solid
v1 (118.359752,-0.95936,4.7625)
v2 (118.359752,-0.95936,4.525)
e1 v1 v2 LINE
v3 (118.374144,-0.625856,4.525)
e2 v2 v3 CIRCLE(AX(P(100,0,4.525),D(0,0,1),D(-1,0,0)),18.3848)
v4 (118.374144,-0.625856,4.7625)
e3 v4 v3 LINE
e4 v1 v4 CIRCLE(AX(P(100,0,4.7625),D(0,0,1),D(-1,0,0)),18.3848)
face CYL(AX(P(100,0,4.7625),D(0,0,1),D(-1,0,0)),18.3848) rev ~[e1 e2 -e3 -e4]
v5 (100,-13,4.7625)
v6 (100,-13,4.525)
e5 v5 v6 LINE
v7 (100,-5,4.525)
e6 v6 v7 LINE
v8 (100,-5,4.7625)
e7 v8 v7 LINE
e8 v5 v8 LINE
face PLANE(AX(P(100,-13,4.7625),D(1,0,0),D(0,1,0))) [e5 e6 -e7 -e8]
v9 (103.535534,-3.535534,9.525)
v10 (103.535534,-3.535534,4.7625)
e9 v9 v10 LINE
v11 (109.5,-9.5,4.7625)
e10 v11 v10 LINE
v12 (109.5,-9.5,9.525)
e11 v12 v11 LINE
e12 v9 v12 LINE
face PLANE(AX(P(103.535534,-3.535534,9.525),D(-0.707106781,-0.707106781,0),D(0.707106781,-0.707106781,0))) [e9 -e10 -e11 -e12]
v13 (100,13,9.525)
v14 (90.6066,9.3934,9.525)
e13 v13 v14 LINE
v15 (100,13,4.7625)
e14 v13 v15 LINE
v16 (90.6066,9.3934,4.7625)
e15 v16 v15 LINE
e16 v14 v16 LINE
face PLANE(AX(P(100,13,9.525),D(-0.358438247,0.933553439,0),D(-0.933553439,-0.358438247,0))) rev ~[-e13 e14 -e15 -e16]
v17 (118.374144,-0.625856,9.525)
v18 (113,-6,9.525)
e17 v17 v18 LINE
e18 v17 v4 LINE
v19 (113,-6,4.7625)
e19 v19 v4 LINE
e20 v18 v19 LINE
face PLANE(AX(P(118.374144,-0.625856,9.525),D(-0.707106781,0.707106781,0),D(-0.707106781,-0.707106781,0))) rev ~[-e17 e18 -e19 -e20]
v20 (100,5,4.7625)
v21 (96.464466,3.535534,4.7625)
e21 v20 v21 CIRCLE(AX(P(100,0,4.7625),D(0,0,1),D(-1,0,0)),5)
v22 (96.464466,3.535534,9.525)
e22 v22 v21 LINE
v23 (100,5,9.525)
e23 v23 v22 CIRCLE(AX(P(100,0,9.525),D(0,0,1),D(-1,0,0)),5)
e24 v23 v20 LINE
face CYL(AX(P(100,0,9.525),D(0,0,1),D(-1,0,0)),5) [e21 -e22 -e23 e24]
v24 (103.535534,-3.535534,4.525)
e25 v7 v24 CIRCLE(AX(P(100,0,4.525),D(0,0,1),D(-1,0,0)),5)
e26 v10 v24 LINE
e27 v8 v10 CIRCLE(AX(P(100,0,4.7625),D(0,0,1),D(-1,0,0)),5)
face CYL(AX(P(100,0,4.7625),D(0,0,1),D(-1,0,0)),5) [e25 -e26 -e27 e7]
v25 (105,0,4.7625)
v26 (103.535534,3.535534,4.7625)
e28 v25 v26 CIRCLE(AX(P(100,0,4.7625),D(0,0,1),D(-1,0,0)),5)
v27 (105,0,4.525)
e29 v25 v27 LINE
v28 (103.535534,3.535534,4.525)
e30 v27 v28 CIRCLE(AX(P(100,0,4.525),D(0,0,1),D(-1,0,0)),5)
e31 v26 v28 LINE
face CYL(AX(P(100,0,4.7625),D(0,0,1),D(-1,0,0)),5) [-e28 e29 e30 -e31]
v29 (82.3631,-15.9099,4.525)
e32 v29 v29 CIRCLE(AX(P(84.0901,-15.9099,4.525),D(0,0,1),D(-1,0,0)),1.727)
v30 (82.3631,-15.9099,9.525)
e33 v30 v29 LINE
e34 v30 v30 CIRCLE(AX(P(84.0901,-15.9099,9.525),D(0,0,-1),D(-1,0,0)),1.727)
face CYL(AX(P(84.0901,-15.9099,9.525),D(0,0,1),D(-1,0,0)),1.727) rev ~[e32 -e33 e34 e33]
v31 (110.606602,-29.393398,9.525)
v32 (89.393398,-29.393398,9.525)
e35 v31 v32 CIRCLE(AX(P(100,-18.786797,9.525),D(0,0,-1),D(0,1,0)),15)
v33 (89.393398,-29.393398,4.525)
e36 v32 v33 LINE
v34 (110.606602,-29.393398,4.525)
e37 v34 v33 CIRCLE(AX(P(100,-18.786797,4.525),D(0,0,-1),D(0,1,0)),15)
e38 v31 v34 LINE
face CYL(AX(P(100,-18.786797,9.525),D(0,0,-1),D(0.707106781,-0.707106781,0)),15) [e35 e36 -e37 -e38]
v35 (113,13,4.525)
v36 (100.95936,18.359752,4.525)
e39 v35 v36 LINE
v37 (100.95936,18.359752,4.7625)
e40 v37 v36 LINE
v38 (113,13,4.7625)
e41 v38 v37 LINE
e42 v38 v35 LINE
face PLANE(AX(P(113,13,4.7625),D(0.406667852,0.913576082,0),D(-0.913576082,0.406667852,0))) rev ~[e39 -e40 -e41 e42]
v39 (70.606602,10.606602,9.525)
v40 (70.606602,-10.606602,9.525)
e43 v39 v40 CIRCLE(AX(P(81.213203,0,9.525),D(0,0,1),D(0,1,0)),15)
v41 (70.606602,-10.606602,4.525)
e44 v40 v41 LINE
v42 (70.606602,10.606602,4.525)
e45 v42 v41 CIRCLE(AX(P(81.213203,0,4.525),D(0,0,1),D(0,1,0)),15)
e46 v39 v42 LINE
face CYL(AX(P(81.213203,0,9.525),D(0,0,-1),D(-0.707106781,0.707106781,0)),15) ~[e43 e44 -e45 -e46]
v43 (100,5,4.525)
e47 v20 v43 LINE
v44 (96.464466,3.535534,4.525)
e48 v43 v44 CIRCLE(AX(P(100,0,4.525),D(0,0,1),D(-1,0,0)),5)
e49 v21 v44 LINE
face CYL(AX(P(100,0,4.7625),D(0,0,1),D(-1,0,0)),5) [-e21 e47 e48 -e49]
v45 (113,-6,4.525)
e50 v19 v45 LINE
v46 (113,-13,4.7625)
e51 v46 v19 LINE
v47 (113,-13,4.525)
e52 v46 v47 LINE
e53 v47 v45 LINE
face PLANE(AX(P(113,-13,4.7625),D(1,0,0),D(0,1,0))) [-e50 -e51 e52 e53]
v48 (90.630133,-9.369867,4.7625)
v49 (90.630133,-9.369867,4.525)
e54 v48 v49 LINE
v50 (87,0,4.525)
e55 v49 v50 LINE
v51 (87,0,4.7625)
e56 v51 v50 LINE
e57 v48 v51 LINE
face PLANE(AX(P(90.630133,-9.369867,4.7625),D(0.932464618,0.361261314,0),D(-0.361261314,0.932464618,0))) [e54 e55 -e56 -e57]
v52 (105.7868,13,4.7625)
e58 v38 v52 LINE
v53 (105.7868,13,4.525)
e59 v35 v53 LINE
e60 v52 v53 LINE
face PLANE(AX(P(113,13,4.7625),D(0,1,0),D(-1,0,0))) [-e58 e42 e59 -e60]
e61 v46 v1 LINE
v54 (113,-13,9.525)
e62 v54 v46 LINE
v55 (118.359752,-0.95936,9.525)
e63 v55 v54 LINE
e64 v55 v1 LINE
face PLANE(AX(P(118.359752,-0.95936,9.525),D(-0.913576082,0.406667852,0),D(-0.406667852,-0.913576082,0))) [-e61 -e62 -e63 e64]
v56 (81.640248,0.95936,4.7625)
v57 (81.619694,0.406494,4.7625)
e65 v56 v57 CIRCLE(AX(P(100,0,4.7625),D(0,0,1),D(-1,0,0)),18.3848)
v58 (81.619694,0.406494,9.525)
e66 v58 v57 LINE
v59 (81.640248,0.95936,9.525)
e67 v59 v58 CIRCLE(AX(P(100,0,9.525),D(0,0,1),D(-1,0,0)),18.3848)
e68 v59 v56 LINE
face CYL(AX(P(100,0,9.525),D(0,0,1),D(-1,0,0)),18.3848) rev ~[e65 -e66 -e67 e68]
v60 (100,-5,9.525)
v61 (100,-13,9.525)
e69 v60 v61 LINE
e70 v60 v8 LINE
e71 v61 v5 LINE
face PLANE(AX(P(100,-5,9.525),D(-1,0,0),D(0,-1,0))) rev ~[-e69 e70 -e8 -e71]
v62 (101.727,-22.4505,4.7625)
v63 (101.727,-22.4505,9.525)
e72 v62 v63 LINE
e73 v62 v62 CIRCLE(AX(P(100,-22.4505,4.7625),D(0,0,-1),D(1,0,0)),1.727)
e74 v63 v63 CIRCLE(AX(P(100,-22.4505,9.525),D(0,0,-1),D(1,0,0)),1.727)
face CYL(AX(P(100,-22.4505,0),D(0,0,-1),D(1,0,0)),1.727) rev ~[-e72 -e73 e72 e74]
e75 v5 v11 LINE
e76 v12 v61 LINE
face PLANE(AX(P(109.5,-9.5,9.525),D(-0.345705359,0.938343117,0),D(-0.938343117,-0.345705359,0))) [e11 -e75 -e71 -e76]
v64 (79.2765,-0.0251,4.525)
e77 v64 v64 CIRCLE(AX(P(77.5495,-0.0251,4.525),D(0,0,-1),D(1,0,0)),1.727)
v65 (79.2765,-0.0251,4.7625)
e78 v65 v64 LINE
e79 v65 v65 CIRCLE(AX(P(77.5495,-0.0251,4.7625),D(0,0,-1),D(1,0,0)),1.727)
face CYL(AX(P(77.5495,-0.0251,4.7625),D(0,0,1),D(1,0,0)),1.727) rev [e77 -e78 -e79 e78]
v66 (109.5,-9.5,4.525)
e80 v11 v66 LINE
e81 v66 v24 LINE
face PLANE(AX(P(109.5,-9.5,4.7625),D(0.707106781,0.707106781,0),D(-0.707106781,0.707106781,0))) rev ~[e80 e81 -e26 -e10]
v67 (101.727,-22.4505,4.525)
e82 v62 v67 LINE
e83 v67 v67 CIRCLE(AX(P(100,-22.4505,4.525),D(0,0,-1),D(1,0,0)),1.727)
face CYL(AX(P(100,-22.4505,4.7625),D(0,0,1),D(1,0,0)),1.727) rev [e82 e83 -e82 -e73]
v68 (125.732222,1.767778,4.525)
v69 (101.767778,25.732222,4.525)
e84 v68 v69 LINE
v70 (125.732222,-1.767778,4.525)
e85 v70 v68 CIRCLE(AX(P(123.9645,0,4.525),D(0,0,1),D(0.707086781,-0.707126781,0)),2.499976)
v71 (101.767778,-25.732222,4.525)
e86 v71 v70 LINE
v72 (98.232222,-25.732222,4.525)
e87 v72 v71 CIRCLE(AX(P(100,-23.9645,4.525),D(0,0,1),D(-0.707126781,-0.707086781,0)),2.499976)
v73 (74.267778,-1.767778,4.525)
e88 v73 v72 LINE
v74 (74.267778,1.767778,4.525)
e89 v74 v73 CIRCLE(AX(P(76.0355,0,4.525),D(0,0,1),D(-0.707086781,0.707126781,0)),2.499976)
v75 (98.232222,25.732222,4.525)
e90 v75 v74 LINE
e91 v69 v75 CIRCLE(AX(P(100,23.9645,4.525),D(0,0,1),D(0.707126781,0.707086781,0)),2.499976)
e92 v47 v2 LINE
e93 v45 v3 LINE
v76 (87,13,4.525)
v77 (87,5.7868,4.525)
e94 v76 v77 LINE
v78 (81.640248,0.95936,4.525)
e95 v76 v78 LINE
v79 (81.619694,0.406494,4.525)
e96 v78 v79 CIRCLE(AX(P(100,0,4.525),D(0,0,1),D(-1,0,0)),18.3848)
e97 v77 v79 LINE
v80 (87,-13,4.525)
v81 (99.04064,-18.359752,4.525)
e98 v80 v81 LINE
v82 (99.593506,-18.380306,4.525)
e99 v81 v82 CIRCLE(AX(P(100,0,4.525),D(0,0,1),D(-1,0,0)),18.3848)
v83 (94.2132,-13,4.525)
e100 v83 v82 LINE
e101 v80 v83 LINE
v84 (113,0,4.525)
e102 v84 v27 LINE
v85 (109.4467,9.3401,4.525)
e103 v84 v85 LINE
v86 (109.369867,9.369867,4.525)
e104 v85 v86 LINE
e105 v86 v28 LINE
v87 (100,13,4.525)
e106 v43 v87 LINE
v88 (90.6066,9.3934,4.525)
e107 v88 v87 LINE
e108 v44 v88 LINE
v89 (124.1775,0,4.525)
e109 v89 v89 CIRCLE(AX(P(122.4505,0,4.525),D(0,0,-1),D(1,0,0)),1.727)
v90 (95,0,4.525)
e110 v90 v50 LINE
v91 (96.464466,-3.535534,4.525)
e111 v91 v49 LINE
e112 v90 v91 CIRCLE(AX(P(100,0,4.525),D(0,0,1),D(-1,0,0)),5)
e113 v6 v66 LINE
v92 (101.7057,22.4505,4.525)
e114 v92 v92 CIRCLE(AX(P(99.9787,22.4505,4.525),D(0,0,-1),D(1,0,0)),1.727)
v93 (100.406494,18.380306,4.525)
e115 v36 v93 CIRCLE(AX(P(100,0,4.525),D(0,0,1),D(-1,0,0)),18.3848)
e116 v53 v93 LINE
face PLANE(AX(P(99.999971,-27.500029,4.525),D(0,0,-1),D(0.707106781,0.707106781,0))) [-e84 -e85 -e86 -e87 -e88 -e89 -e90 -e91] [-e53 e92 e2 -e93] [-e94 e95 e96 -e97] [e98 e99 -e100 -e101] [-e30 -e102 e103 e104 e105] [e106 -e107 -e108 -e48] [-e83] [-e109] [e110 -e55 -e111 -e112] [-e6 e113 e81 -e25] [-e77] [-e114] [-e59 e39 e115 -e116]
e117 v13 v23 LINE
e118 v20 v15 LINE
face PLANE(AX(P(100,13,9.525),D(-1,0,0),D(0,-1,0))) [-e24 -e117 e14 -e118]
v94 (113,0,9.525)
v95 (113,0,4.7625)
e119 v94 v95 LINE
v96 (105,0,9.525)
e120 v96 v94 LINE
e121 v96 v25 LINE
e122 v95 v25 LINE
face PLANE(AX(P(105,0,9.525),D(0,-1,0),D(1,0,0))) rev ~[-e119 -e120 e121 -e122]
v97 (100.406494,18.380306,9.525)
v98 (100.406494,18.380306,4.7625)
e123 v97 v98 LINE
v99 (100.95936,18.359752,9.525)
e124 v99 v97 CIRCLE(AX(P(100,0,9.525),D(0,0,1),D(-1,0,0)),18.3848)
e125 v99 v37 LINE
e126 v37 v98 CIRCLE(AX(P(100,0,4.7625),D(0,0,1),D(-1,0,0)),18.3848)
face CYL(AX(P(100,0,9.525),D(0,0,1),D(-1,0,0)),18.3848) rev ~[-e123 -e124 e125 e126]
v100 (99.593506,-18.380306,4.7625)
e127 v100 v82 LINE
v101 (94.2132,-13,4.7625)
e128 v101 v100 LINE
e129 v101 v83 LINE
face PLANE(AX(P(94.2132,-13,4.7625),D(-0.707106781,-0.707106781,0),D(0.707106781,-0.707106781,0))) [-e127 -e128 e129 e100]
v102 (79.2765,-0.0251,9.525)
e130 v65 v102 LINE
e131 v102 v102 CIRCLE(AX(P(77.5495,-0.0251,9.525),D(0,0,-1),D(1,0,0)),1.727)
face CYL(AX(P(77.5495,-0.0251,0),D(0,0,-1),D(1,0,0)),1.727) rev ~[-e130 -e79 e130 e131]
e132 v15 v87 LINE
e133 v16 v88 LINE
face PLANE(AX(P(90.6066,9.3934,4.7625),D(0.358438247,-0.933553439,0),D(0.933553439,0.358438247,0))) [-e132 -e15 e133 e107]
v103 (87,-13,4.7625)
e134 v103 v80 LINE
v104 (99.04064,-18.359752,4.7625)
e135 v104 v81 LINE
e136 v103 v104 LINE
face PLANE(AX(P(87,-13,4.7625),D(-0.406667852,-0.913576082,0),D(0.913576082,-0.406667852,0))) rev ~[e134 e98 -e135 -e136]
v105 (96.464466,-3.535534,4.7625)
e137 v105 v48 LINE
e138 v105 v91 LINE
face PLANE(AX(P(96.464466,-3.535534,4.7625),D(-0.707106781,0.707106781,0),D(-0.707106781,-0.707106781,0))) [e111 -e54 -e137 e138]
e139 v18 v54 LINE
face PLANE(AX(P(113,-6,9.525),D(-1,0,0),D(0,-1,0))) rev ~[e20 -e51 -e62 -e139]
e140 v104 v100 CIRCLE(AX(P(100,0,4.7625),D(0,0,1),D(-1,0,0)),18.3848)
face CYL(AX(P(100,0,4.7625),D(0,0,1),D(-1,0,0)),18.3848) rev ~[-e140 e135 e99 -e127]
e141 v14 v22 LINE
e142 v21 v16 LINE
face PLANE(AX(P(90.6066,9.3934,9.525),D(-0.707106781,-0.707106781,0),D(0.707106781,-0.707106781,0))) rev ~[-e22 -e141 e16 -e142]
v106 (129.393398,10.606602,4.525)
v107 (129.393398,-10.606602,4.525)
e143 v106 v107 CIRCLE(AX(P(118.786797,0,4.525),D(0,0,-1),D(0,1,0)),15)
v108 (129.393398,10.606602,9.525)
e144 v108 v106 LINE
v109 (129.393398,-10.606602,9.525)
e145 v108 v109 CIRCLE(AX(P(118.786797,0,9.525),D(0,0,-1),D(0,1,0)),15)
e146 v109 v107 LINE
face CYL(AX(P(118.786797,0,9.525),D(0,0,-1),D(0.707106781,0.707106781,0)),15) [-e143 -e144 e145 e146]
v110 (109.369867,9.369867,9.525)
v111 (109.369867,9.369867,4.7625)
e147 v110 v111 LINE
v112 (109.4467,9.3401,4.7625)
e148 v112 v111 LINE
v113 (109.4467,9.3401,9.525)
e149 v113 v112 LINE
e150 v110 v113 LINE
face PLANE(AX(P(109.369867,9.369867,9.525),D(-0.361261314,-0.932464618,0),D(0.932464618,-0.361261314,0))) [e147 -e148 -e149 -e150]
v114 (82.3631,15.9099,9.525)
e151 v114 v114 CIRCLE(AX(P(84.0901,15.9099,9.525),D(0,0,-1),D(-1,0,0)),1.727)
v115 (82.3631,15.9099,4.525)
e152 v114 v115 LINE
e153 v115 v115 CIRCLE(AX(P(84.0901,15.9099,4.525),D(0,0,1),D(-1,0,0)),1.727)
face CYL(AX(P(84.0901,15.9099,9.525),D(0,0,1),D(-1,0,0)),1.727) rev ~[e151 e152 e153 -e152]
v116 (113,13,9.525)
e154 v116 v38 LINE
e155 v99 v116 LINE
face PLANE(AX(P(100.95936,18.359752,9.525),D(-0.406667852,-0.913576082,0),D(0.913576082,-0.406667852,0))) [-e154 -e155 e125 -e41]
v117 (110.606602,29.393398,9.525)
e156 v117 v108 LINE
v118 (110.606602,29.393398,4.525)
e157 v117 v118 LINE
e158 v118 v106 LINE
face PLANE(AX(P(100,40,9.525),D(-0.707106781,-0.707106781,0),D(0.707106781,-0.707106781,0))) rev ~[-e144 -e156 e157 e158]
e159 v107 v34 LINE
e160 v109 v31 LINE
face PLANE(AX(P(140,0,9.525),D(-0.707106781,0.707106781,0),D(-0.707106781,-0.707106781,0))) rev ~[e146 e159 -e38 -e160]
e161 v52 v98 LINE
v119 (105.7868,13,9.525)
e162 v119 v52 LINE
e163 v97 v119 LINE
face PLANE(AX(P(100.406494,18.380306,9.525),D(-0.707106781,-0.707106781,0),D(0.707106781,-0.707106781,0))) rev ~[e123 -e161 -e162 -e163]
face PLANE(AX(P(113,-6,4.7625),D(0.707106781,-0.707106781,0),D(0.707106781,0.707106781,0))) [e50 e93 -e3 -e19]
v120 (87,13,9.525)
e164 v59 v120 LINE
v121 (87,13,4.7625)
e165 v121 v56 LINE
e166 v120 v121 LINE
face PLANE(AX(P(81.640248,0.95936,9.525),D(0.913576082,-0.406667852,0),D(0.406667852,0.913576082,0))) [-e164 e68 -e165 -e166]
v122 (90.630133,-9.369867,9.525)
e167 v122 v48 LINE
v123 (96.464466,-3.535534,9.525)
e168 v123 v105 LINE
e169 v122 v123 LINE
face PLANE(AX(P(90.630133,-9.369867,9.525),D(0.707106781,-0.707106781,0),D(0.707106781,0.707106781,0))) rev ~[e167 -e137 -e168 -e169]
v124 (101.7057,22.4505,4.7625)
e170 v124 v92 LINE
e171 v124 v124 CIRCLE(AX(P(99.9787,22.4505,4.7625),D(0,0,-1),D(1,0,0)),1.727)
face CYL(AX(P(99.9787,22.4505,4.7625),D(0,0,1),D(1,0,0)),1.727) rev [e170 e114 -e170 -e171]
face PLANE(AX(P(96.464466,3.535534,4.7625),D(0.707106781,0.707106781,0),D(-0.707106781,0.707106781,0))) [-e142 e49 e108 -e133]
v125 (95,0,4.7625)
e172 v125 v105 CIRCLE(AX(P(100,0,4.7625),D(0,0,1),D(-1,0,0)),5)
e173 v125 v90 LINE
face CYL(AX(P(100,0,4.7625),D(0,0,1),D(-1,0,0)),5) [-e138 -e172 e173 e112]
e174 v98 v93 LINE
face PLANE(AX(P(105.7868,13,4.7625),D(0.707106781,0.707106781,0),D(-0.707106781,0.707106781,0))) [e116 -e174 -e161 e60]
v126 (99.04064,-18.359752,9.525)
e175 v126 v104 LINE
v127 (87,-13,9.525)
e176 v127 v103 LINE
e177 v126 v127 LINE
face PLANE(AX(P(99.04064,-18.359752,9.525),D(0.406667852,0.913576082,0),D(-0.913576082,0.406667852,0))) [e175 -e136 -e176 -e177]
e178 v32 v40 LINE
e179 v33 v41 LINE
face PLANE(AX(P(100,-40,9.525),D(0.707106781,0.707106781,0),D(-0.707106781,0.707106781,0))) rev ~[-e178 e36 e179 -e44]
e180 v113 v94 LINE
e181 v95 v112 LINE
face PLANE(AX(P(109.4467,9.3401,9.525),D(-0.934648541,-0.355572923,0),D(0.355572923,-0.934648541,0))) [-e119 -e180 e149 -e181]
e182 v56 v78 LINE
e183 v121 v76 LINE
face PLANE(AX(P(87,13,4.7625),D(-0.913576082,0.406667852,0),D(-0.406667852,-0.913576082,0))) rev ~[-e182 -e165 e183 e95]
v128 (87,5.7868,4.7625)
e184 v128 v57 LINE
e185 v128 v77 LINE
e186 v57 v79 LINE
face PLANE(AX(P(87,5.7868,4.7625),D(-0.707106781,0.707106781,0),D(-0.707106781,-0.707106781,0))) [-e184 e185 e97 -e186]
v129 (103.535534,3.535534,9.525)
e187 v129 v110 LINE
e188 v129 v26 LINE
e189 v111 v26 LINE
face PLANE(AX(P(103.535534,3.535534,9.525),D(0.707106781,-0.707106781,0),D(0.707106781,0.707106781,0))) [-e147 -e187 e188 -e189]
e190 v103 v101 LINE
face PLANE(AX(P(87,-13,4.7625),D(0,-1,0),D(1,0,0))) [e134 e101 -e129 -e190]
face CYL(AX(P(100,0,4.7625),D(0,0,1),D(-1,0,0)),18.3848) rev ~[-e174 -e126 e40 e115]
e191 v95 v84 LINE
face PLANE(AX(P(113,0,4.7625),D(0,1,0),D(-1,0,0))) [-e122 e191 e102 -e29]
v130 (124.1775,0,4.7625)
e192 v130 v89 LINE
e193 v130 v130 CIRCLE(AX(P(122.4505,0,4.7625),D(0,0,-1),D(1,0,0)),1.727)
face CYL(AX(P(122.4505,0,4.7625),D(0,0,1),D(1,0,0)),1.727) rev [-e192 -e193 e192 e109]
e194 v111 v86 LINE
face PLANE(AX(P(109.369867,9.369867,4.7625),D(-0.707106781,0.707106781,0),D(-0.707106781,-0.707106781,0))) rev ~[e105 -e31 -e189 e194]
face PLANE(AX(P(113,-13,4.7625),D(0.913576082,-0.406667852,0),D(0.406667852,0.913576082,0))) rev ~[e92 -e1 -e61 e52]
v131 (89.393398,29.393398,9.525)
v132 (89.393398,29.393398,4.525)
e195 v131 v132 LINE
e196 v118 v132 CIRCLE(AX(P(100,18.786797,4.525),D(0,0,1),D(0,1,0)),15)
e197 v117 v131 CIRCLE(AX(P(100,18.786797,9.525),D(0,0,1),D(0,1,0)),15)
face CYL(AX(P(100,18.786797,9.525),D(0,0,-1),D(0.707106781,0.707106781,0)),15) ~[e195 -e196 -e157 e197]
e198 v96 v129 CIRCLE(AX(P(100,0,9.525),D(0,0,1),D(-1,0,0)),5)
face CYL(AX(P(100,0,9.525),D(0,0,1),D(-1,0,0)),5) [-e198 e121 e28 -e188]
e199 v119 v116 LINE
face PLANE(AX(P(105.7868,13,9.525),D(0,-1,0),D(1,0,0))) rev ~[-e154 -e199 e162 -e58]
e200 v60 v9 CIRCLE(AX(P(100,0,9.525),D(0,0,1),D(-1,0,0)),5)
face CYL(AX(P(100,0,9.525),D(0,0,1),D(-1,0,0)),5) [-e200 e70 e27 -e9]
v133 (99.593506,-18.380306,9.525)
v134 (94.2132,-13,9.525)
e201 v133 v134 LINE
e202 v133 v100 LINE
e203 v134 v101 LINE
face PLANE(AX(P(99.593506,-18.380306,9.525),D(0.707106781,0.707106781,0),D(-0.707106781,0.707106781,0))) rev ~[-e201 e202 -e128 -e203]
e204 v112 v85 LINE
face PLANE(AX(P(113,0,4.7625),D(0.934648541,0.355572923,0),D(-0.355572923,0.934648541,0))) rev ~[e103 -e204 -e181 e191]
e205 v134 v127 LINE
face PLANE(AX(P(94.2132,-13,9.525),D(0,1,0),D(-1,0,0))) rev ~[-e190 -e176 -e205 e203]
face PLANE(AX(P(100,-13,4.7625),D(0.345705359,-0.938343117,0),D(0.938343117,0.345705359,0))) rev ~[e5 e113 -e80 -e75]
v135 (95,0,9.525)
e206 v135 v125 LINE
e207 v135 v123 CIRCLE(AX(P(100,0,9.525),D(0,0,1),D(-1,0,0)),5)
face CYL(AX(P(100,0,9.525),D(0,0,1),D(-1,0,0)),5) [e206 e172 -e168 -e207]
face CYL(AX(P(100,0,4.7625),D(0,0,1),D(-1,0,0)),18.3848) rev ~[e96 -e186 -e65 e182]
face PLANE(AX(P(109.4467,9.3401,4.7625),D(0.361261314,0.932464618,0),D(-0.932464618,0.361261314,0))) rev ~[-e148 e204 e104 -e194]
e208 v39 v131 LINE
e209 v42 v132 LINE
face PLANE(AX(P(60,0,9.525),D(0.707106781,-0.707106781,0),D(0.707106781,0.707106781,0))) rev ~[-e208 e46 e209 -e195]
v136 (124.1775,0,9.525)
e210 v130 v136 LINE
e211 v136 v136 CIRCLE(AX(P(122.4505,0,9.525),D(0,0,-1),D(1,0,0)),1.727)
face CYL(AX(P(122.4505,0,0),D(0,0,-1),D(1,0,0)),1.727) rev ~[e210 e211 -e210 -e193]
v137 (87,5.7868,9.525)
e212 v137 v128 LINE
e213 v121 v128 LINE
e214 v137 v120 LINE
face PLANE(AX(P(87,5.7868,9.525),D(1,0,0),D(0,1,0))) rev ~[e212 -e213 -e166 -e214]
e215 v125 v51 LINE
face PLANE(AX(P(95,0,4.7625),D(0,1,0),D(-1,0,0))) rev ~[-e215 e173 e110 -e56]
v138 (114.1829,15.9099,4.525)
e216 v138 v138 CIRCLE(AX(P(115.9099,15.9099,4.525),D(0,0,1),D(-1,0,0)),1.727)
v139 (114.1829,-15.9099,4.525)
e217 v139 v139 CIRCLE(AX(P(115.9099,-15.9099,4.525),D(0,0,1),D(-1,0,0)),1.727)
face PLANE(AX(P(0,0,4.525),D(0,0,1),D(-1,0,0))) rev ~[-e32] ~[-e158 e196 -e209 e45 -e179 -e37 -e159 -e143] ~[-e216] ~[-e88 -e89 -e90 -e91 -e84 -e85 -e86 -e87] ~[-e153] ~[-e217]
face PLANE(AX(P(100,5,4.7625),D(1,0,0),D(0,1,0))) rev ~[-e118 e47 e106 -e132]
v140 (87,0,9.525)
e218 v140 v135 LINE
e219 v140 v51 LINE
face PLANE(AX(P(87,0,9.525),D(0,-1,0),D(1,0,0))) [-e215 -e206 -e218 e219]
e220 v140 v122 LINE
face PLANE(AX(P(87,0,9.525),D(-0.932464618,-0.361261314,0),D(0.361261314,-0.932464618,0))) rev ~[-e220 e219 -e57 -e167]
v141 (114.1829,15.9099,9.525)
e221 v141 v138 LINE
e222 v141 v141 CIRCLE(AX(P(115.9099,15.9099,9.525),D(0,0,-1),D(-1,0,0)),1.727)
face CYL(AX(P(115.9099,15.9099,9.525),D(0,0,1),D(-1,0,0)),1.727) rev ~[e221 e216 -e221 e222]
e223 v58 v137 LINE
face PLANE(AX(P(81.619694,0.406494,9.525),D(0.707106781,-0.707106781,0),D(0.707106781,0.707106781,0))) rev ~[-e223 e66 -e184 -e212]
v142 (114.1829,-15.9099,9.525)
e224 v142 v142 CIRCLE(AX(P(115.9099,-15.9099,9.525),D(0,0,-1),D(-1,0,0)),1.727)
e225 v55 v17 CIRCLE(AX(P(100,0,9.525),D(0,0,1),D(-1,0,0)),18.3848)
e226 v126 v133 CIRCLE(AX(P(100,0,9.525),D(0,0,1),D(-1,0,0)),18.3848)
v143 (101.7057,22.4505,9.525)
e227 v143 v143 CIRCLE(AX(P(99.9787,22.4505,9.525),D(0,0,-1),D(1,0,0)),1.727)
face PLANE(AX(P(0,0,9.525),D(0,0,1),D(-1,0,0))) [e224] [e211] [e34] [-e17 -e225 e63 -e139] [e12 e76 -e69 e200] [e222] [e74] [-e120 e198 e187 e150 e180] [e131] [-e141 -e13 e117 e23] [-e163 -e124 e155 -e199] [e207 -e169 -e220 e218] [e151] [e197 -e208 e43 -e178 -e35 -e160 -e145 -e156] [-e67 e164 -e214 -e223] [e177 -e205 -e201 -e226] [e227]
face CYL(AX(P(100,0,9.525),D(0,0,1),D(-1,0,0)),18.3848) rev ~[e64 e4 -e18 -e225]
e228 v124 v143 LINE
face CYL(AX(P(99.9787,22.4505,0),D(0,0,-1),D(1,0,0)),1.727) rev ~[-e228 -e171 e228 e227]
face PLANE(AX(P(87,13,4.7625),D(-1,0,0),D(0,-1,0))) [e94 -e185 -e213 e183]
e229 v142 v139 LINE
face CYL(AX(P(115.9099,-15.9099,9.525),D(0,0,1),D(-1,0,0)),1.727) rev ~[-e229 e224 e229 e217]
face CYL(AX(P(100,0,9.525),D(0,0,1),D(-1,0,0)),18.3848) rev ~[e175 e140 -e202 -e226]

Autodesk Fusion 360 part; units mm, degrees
sketch "Sketch1" plane through (0, 0, 0) normal (0, 0, 1) x (1, 0, 0)
  line L0 (101.6, 0) -> (101.6, 19.05)
  line L1 (101.6, 19.05) -> (-5.6875, 19.05)
  line L2 (101.6, 0) -> (101.6, -19.05)
  line L3 (101.6, -19.05) -> (-5.6875, -19.05)
  arc A0 (-6.5, 18.9143) -> (-6.5, -18.9143) centre (0, 0) ccw
  arc A1 (-5.6875, 19.05) -> (-6.5, 18.9143) centre (-5.6875, 16.55) ccw
  arc A2 (-6.5, -18.9143) -> (-5.6875, -19.05) centre (-5.6875, -16.55) ccw
  line L4 (0, 0) -> (45, 0) construction
  circle A3 centre (-11.5524, 11.5524) radius 1.5625
  circle A4 centre (11.5524, 11.5524) radius 1.5625
  circle A5 centre (-11.5524, -11.5524) radius 1.5625
  circle A6 centre (11.5524, -11.5524) radius 1.5625
  point P0 (11.5524, -11.5524)
  point P1 (-11.5524, -11.5524)
  point P2 (-11.5524, 11.5524)
  point P3 (11.5524, 11.5524)
  dimension "d1" = 40
  dimension "d2" = 101.6
  dimension "d3" = 19.05
  dimension "d4" = 19.05
  dimension "d5" = 2.5
  dimension "d9" = 3.125
  dimension "d10" = 3.125
  dimension "d11" = 3.125
  dimension "d12" = 3.125
extrude "Extrude1" add sketch "Sketch1" along normal blind 9.525 makes body 1
ref_plane "WorkPlane1" through (47.9563, 0, 4.7625) normal (0, -1, 0) x (1, 0, 0)
pattern_circular "C-Pattern1" count 4 over 360 about axis through (101.6, 0, -2.5717) along (0, 0, 1) of bodies 1 makes body 2 at (101.6, -59.0437, 0) makes body 3 at (160.6437, 0, 0) makes body 4 at (101.6, 59.0437, 0)
combine "Combine1" operation add target body 4 tool bodies 1 2 3
sketch "Sketch2" plane through (0, 0, 9.525) normal (0, 0, 1) x (-1, 0, 0)
  circle A0 centre (-214.7524, -11.5524) radius 1.5625
  circle A1 centre (-191.6476, -11.5524) radius 1.5625
  circle A2 centre (-214.7524, 11.5524) radius 1.5625
  circle A3 centre (-191.6476, 11.5524) radius 1.5625
  line L0 (-120.65, -19.05) -> (-120.65, -107.2875)
  arc A4 (-120.65, -107.2875) -> (-120.5143, -108.1) centre (-118.15, -107.2875) ccw
  arc A5 (-120.5143, -108.1) -> (-82.6857, -108.1) centre (-101.6, -101.6) ccw
  arc A6 (-82.6857, -108.1) -> (-82.55, -107.2875) centre (-85.05, -107.2875) ccw
  line L1 (-82.55, -107.2875) -> (-82.55, -19.05)
  line L2 (-82.55, -19.05) -> (5.6875, -19.05)
  arc A7 (5.6875, -19.05) -> (6.5, -18.9143) centre (5.6875, -16.55) ccw
  arc A8 (6.5, -18.9143) -> (6.5, 18.9143) centre (0, 0) ccw
  arc A9 (6.5, 18.9143) -> (5.6875, 19.05) centre (5.6875, 16.55) ccw
  line L3 (5.6875, 19.05) -> (-82.55, 19.05)
  line L4 (-82.55, 19.05) -> (-82.55, 107.2875)
  arc A10 (-82.55, 107.2875) -> (-82.6857, 108.1) centre (-85.05, 107.2875) ccw
  arc A11 (-82.6857, 108.1) -> (-120.5143, 108.1) centre (-101.6, 101.6) ccw
  arc A12 (-120.5143, 108.1) -> (-120.65, 107.2875) centre (-118.15, 107.2875) ccw
  line L5 (-120.65, 107.2875) -> (-120.65, 19.05)
  line L6 (-120.65, 19.05) -> (-208.8875, 19.05)
  arc A13 (-208.8875, 19.05) -> (-209.7, 18.9143) centre (-208.8875, 16.55) ccw
  arc A14 (-209.7, 18.9143) -> (-209.7, -18.9143) centre (-203.2, 0) ccw
  arc A15 (-209.7, -18.9143) -> (-208.8875, -19.05) centre (-208.8875, -16.55) ccw
  line L7 (-208.8875, -19.05) -> (-120.65, -19.05)
  circle A16 centre (-90.0476, 90.0476) radius 1.5625
  circle A17 centre (-90.0476, 113.1524) radius 1.5625
  circle A18 centre (-113.1524, 90.0476) radius 1.5625
  circle A19 centre (-113.1524, 113.1524) radius 1.5625
  circle A20 centre (-90.0476, -113.1524) radius 1.5625
  circle A21 centre (-90.0476, -90.0476) radius 1.5625
  circle A22 centre (-113.1524, -113.1524) radius 1.5625
  circle A23 centre (-113.1524, -90.0476) radius 1.5625
  circle A24 centre (11.5524, 11.5524) radius 1.5625
  circle A25 centre (-11.5524, 11.5524) radius 1.5625
  circle A26 centre (11.5524, -11.5524) radius 1.5625
  circle A27 centre (-11.5524, -11.5524) radius 1.5625
  line L8 (-52.9071, -19.05) -> (-82.55, -47.7089)
  line L9 (-120.65, -46.4135) -> (-147.0929, -19.05)
  line L10 (-147.0929, 19.05) -> (-120.65, 46.4135)
  line L11 (-82.55, 47.7089) -> (-52.9071, 19.05)
extrude "Extrude2" add sketch "Sketch2" against normal up to surface (9.525 mm away) contours L0 L7 L9 | L1 L2 L8 | L5 L6 L10 | L3 L4 L11 bodies 4
sketch "Sketch3" plane through (0, 0, 0) normal (0, 0, -1) x (1, 0, 0)
  circle A0 centre (191.6476, 11.5524) radius 1.5625
  circle A1 centre (214.7524, 11.5524) radius 1.5625
  circle A2 centre (191.6476, -11.5524) radius 1.5625
  circle A3 centre (214.7524, -11.5524) radius 1.5625
  circle A4 centre (113.1524, -90.0476) radius 1.5625
  circle A5 centre (113.1524, -113.1524) radius 1.5625
  circle A6 centre (90.0476, -90.0476) radius 1.5625
  circle A7 centre (90.0476, -113.1524) radius 1.5625
  circle A8 centre (11.5524, -11.5524) radius 1.5625
  circle A9 centre (-11.5524, -11.5524) radius 1.5625
  circle A10 centre (11.5524, 11.5524) radius 1.5625
  circle A11 centre (-11.5524, 11.5524) radius 1.5625
  line L0 (120.65, 46.4135) -> (120.65, 107.2875)
  arc A12 (120.65, 107.2875) -> (120.5143, 108.1) centre (118.15, 107.2875) ccw
  arc A13 (120.5143, 108.1) -> (82.6857, 108.1) centre (101.6, 101.6) ccw
  arc A14 (82.6857, 108.1) -> (82.55, 107.2875) centre (85.05, 107.2875) ccw
  line L1 (82.55, 107.2875) -> (82.55, 47.7089)
  line L2 (82.55, 47.7089) -> (52.9071, 19.05)
  line L3 (52.9071, 19.05) -> (-5.6875, 19.05)
  arc A15 (-5.6875, 19.05) -> (-6.5, 18.9143) centre (-5.6875, 16.55) ccw
  arc A16 (-6.5, 18.9143) -> (-6.5, -18.9143) centre (0, 0) ccw
  arc A17 (-6.5, -18.9143) -> (-5.6875, -19.05) centre (-5.6875, -16.55) ccw
  line L4 (-5.6875, -19.05) -> (52.9071, -19.05)
  line L5 (52.9071, -19.05) -> (82.55, -47.7089)
  line L6 (82.55, -47.7089) -> (82.55, -107.2875)
  arc A18 (82.55, -107.2875) -> (82.6857, -108.1) centre (85.05, -107.2875) ccw
  arc A19 (82.6857, -108.1) -> (120.5143, -108.1) centre (101.6, -101.6) ccw
  arc A20 (120.5143, -108.1) -> (120.65, -107.2875) centre (118.15, -107.2875) ccw
  line L7 (120.65, -107.2875) -> (120.65, -46.4135)
  line L8 (120.65, -46.4135) -> (147.0929, -19.05)
  line L9 (147.0929, -19.05) -> (208.8875, -19.05)
  arc A21 (208.8875, -19.05) -> (209.7, -18.9143) centre (208.8875, -16.55) ccw
  arc A22 (209.7, -18.9143) -> (209.7, 18.9143) centre (203.2, 0) ccw
  arc A23 (209.7, 18.9143) -> (208.8875, 19.05) centre (208.8875, 16.55) ccw
  line L10 (208.8875, 19.05) -> (147.0929, 19.05)
  line L11 (147.0929, 19.05) -> (120.65, 46.4135)
  circle A24 centre (90.0476, 90.0476) radius 1.5625
  circle A25 centre (90.0476, 113.1524) radius 1.5625
  circle A26 centre (113.1524, 90.0476) radius 1.5625
  circle A27 centre (113.1524, 113.1524) radius 1.5625
  circle A28 centre (77.5495, 0.0251) radius 1.727
  circle A29 centre (100, 22.4505) radius 1.727
  circle A30 centre (122.4505, 0) radius 1.727
  circle A31 centre (99.9787, -22.4505) radius 1.727
  circle A32 centre (73.0825, 26.964) radius 1.727
  circle A33 centre (126.964, 26.9175) radius 1.727
  circle A34 centre (126.9175, -26.964) radius 1.727
  circle A35 centre (73.036, -26.9175) radius 1.727
  dimension "d21" = 3.454
  dimension "d22" = 3.454
  dimension "d23" = 3.454
  dimension "d24" = 3.454
  dimension "d26" = 3.454
  dimension "d27" = 3.454
  dimension "d28" = 3.454
  dimension "d29" = 3.454
extrude "Extrude3" cut sketch "Sketch3" against normal blind 10 contours A28 | A29 | A30 | A31 | A32 | A33 | A34 | A35 bodies 4
sketch "Sketch4" plane through (0, 0, 9.525) normal (0, 0, 1) x (-1, 0, 0)
  circle A0 centre (-122.4505, 0) radius 1.727
  circle A1 centre (-77.5495, 0.0251) radius 1.727
  circle A2 centre (-73.036, -26.9175) radius 1.727
  circle A3 centre (-100, 22.4505) radius 1.727
  circle A4 centre (-126.9175, -26.964) radius 1.727
  circle A5 centre (-73.0825, 26.964) radius 1.727
  circle A6 centre (-99.9787, -22.4505) radius 1.727
  circle A7 centre (-126.964, 26.9175) radius 1.727
  circle A8 centre (-214.7524, -11.5524) radius 1.5625
  circle A9 centre (-191.6476, -11.5524) radius 1.5625
  circle A10 centre (-214.7524, 11.5524) radius 1.5625
  circle A11 centre (-191.6476, 11.5524) radius 1.5625
  line L0 (-120.65, -46.4135) -> (-120.65, -107.2875)
  arc A12 (-120.65, -107.2875) -> (-120.5143, -108.1) centre (-118.15, -107.2875) ccw
  arc A13 (-120.5143, -108.1) -> (-82.6857, -108.1) centre (-101.6, -101.6) ccw
  arc A14 (-82.6857, -108.1) -> (-82.55, -107.2875) centre (-85.05, -107.2875) ccw
  line L1 (-82.55, -107.2875) -> (-82.55, -47.7089)
  line L2 (-82.55, -47.7089) -> (-52.9071, -19.05)
  line L3 (-52.9071, -19.05) -> (5.6875, -19.05)
  arc A15 (5.6875, -19.05) -> (6.5, -18.9143) centre (5.6875, -16.55) ccw
  arc A16 (6.5, -18.9143) -> (6.5, 18.9143) centre (0, 0) ccw
  arc A17 (6.5, 18.9143) -> (5.6875, 19.05) centre (5.6875, 16.55) ccw
  line L4 (5.6875, 19.05) -> (-52.9071, 19.05)
  line L5 (-52.9071, 19.05) -> (-82.55, 47.7089)
  line L6 (-82.55, 47.7089) -> (-82.55, 107.2875)
  arc A18 (-82.55, 107.2875) -> (-82.6857, 108.1) centre (-85.05, 107.2875) ccw
  arc A19 (-82.6857, 108.1) -> (-120.5143, 108.1) centre (-101.6, 101.6) ccw
  arc A20 (-120.5143, 108.1) -> (-120.65, 107.2875) centre (-118.15, 107.2875) ccw
  line L7 (-120.65, 107.2875) -> (-120.65, 46.4135)
  line L8 (-120.65, 46.4135) -> (-147.0929, 19.05)
  line L9 (-147.0929, 19.05) -> (-208.8875, 19.05)
  arc A21 (-208.8875, 19.05) -> (-209.7, 18.9143) centre (-208.8875, 16.55) ccw
  arc A22 (-209.7, 18.9143) -> (-209.7, -18.9143) centre (-203.2, 0) ccw
  arc A23 (-209.7, -18.9143) -> (-208.8875, -19.05) centre (-208.8875, -16.55) ccw
  line L10 (-208.8875, -19.05) -> (-147.0929, -19.05)
  line L11 (-147.0929, -19.05) -> (-120.65, -46.4135)
  circle A24 centre (-90.0476, 90.0476) radius 1.5625
  circle A25 centre (-90.0476, 113.1524) radius 1.5625
  circle A26 centre (-113.1524, 90.0476) radius 1.5625
  circle A27 centre (-113.1524, 113.1524) radius 1.5625
  circle A28 centre (-90.0476, -113.1524) radius 1.5625
  circle A29 centre (-90.0476, -90.0476) radius 1.5625
  circle A30 centre (-113.1524, -113.1524) radius 1.5625
  circle A31 centre (-113.1524, -90.0476) radius 1.5625
  circle A32 centre (11.5524, 11.5524) radius 1.5625
  circle A33 centre (-11.5524, 11.5524) radius 1.5625
  circle A34 centre (11.5524, -11.5524) radius 1.5625
  circle A35 centre (-11.5524, -11.5524) radius 1.5625
  line L12 (-72.5, 27.5) -> (-127.5, -27.5) construction
  line L13 (-127.5, 27.5) -> (-72.5, -27.5) construction
  line L14 (-72.5, 0) -> (-100, 27.5)
  line L15 (-100, 27.5) -> (-127.5, 0)
  line L16 (-127.5, 0) -> (-100, -27.5)
  line L17 (-72.5, 0) -> (-100, -27.5)
  line L18 (-127.5, -27.5) -> (-125.2758, -27.5)
  line L19 (-74.6618, -27.5) -> (-72.5, -27.5)
  line L20 (-72.5, -27.5) -> (-72.5, -25.2758)
  line L21 (-72.5, 25.3382) -> (-72.5, 27.5)
  line L22 (-127.5, 27.5) -> (-127.5, 25.2758)
  line L23 (-127.5, -25.3382) -> (-127.5, -27.5)
  line L24 (-72.5, 27.5) -> (-74.7242, 27.5)
  line L25 (-125.3382, 27.5) -> (-127.5, 27.5)
  circle A36 centre (-100, 0) radius 141.4214
  point P0 (-100, 0)
  dimension "d32" = 55
  dimension "d33" = 55
extrude "Extrude4" cut sketch "Sketch4" against normal blind 80 contours L0 A12 A13 A14 L1 L2 L3 A15 A16 A17 L4 L5 L6 A18 A19 A20 L7 L8 L9 A21 A22 A23 L10 L11 bodies 4
sketch "Sketch5" plane through (63.75, -63.75, 0) normal (0.7071, -0.7071, 0) x (0.7071, 0.7071, 0)
  line L0 (51.2652, 0) -> (90.1561, 0)
  line L1 (90.1561, 0) -> (90.1561, 9.525)
  line L2 (90.1561, 9.525) -> (51.2652, 9.525)
  line L3 (51.2652, 9.525) -> (51.2652, 0)
  line L4 (51.2652, 4.7625) -> (90.1561, 4.7625)
extrude "Extrude5" cut sketch "Sketch5" against normal blind 135 contours L0 L1 L3 L4 bodies 4
fillet "Fillet1" radius 2.5 4 edges at (100, -27.5, 7.1438) (127.5, 0, 7.1438) (100, 27.5, 7.1438) (72.5, 0, 7.1438) on bodies 4
sketch "Sketch6" plane through (0, 0, 9.525) normal (0, 0, 1) x (-1, 0, 0)
  arc A0 (-74.2678, -1.7678) -> (-74.2678, 1.7678) centre (-76.0355, 0) ccw
  line L0 (-74.2678, 1.7678) -> (-98.2322, 25.7322)
  arc A1 (-98.2322, 25.7322) -> (-101.7678, 25.7322) centre (-100, 23.9645) ccw
  line L1 (-101.7678, 25.7322) -> (-125.7322, 1.7678)
  arc A2 (-125.7322, 1.7678) -> (-125.7322, -1.7678) centre (-123.9645, 0) ccw
  line L2 (-125.7322, -1.7678) -> (-101.7678, -25.7322)
  arc A3 (-101.7678, -25.7322) -> (-98.2322, -25.7322) centre (-100, -23.9645) ccw
  line L3 (-98.2322, -25.7322) -> (-74.2678, -1.7678)
  circle A4 centre (-122.4505, 0) radius 1.727
  circle A5 centre (-77.5495, 0.0251) radius 1.727
  circle A6 centre (-100, 22.4505) radius 1.727
  circle A7 centre (-99.9787, -22.4505) radius 1.727
  line L4 (-100, -40) -> (-140, 0)
  line L5 (-140, 0) -> (-100, 40)
  line L6 (-100, 40) -> (-60, 0)
  line L7 (-60, 0) -> (-100, -40)
extrude "Extrude6" add sketch "Sketch6" against normal blind 5 contours L4 L5 L6 L7 bodies 4
sketch "Sketch7" plane through (0, 0, 9.525) normal (0, 0, 1) x (-1, 0, 0)
  line L0 (-60, 0) -> (-100, 40)
  line L1 (-100, 40) -> (-140, 0)
  line L2 (-140, 0) -> (-100, -40)
  line L3 (-100, -40) -> (-60, 0)
  circle A0 centre (-122.4505, 0) radius 1.727
  circle A1 centre (-77.5495, 0.0251) radius 1.727
  circle A2 centre (-100, 22.4505) radius 1.727
  circle A3 centre (-99.9787, -22.4505) radius 1.727
  circle A4 centre (-100, 0) radius 22.5
  line L4 (-100, 0) -> (-120, 20)
  line L5 (-100, 0) -> (-80, -20)
  line L6 (-100, 0) -> (-120, -20)
  line L7 (-100, 0) -> (-80, 20)
  circle A5 centre (-84.0901, -15.9099) radius 1.727
  circle A6 centre (-115.9099, -15.9099) radius 1.727
  circle A7 centre (-115.9099, 15.9099) radius 1.727
  circle A8 centre (-84.0901, 15.9099) radius 1.727
  dimension "d42" = 45
  dimension "d43" = 3.454
  dimension "d44" = 3.454
  dimension "d45" = 3.454
  dimension "d46" = 3.454
extrude "Extrude7" cut sketch "Sketch7" against normal blind 6 contours A4 L7 A8 | A4 L7 A8 | A4 L5 A5 | A4 L5 A5 | A4 L7 A8 | A4 L7 A8 | A4 L5 A5 | A4 L5 A5 | A4 L4 A7 | A4 L4 A7 | A4 L6 A6 | A4 L6 A6 | A4 L4 A7 | A4 L4 A7 | A4 L6 A6 | A4 L6 A6 bodies 4
fillet "Fillet2" radius 15 4 edges at (60, 0, 7.025) (100, -40, 7.025) (140, 0, 7.025) (100, 40, 7.025) on bodies 4
sketch "Sketch8" plane through (0, 0, 9.525) normal (0, 0, 1) x (-1, 0, 0)
  circle A0 centre (-115.9099, -15.9099) radius 1.727
  circle A1 centre (-115.9099, 15.9099) radius 1.727
  circle A2 centre (-84.0901, -15.9099) radius 1.727
  circle A3 centre (-84.0901, 15.9099) radius 1.727
  arc A4 (-110.6066, -29.3934) -> (-89.3934, -29.3934) centre (-100, -18.7868) ccw
  line L0 (-89.3934, -29.3934) -> (-70.6066, -10.6066)
  arc A5 (-70.6066, -10.6066) -> (-70.6066, 10.6066) centre (-81.2132, 0) ccw
  line L1 (-70.6066, 10.6066) -> (-89.3934, 29.3934)
  arc A6 (-89.3934, 29.3934) -> (-110.6066, 29.3934) centre (-100, 18.7868) ccw
  line L2 (-110.6066, 29.3934) -> (-129.3934, 10.6066)
  arc A7 (-129.3934, 10.6066) -> (-129.3934, -10.6066) centre (-118.7868, 0) ccw
  line L3 (-129.3934, -10.6066) -> (-110.6066, -29.3934)
  circle A8 centre (-122.4505, 0) radius 1.727
  circle A9 centre (-77.5495, 0.0251) radius 1.727
  circle A10 centre (-100, 22.4505) radius 1.727
  circle A11 centre (-99.9787, -22.4505) radius 1.727
  circle A12 centre (-100, 0) radius 18.3848
  line L4 (-87, -13) -> (-113, -13)
  line L5 (-113, -13) -> (-113, 13)
  line L6 (-113, 13) -> (-87, 13)
  line L7 (-87, 13) -> (-87, -13)
  line L8 (-87, -13) -> (-88, -12)
  line L9 (-88, -12) -> (-113, 13)
  line L10 (-87, 13) -> (-113, -13)
  line L11 (-81.6152, 0) -> (-118.7868, 0)
  line L12 (-100, -18.7868) -> (-100, 18.7868)
  line L13 (-87, -13) -> (-100, -18.7868)
  line L14 (-100, -18.7868) -> (-113, -13)
  line L15 (-81.2132, 0) -> (-87, -13)
  line L16 (-81.2132, 0) -> (-87, 13)
  line L17 (-100, 18.7868) -> (-87, 13)
  line L18 (-100, 18.7868) -> (-113, 13)
  line L19 (-118.7868, 0) -> (-113, 13)
  line L20 (-118.7868, 0) -> (-113, -13)
  line L21 (-81.2132, 0) -> (-100, -18.7868)
  line L22 (-100, -18.7868) -> (-118.8934, 0.1066)
  line L23 (-118.8934, 0.1066) -> (-100.1066, 18.8934)
  line L24 (-100.1066, 18.8934) -> (-81.2132, 0)
  line L25 (-87, 0) -> (-90.6066, -9.3934)
  line L26 (-100, -13) -> (-90.6066, -9.3934)
  line L27 (-100, -13) -> (-109.4467, -9.3401)
  line L28 (-109.4467, -9.3401) -> (-113, 0)
  line L29 (-113, 0) -> (-109.5, 9.5)
  line L30 (-109.5, 9.5) -> (-100, 13)
  line L31 (-100, 13) -> (-90.6599, 9.4467)
  line L32 (-87, 0) -> (-90.6599, 9.4467)
  circle A13 centre (-100, 0) radius 5
extrude "Extrude8" cut sketch "Sketch8" against normal blind 24 contours A12 L7 L15 L21 | L10 L11 L32 A13 | L9 L12 L26 A13 | A12 L6 L17 L24 | L9 L12 L30 A13 | L10 L11 L27 L28 A13 | A12 L4 L14 L22 | A12 L5 L19 L23 bodies 4
extrude "Extrude9" add 1 faces at (115.7282, 4.7249, 4.7625) along direction (0, 0, -1) up to surface (0.2375 mm away) on bodies 4 bodies 4
